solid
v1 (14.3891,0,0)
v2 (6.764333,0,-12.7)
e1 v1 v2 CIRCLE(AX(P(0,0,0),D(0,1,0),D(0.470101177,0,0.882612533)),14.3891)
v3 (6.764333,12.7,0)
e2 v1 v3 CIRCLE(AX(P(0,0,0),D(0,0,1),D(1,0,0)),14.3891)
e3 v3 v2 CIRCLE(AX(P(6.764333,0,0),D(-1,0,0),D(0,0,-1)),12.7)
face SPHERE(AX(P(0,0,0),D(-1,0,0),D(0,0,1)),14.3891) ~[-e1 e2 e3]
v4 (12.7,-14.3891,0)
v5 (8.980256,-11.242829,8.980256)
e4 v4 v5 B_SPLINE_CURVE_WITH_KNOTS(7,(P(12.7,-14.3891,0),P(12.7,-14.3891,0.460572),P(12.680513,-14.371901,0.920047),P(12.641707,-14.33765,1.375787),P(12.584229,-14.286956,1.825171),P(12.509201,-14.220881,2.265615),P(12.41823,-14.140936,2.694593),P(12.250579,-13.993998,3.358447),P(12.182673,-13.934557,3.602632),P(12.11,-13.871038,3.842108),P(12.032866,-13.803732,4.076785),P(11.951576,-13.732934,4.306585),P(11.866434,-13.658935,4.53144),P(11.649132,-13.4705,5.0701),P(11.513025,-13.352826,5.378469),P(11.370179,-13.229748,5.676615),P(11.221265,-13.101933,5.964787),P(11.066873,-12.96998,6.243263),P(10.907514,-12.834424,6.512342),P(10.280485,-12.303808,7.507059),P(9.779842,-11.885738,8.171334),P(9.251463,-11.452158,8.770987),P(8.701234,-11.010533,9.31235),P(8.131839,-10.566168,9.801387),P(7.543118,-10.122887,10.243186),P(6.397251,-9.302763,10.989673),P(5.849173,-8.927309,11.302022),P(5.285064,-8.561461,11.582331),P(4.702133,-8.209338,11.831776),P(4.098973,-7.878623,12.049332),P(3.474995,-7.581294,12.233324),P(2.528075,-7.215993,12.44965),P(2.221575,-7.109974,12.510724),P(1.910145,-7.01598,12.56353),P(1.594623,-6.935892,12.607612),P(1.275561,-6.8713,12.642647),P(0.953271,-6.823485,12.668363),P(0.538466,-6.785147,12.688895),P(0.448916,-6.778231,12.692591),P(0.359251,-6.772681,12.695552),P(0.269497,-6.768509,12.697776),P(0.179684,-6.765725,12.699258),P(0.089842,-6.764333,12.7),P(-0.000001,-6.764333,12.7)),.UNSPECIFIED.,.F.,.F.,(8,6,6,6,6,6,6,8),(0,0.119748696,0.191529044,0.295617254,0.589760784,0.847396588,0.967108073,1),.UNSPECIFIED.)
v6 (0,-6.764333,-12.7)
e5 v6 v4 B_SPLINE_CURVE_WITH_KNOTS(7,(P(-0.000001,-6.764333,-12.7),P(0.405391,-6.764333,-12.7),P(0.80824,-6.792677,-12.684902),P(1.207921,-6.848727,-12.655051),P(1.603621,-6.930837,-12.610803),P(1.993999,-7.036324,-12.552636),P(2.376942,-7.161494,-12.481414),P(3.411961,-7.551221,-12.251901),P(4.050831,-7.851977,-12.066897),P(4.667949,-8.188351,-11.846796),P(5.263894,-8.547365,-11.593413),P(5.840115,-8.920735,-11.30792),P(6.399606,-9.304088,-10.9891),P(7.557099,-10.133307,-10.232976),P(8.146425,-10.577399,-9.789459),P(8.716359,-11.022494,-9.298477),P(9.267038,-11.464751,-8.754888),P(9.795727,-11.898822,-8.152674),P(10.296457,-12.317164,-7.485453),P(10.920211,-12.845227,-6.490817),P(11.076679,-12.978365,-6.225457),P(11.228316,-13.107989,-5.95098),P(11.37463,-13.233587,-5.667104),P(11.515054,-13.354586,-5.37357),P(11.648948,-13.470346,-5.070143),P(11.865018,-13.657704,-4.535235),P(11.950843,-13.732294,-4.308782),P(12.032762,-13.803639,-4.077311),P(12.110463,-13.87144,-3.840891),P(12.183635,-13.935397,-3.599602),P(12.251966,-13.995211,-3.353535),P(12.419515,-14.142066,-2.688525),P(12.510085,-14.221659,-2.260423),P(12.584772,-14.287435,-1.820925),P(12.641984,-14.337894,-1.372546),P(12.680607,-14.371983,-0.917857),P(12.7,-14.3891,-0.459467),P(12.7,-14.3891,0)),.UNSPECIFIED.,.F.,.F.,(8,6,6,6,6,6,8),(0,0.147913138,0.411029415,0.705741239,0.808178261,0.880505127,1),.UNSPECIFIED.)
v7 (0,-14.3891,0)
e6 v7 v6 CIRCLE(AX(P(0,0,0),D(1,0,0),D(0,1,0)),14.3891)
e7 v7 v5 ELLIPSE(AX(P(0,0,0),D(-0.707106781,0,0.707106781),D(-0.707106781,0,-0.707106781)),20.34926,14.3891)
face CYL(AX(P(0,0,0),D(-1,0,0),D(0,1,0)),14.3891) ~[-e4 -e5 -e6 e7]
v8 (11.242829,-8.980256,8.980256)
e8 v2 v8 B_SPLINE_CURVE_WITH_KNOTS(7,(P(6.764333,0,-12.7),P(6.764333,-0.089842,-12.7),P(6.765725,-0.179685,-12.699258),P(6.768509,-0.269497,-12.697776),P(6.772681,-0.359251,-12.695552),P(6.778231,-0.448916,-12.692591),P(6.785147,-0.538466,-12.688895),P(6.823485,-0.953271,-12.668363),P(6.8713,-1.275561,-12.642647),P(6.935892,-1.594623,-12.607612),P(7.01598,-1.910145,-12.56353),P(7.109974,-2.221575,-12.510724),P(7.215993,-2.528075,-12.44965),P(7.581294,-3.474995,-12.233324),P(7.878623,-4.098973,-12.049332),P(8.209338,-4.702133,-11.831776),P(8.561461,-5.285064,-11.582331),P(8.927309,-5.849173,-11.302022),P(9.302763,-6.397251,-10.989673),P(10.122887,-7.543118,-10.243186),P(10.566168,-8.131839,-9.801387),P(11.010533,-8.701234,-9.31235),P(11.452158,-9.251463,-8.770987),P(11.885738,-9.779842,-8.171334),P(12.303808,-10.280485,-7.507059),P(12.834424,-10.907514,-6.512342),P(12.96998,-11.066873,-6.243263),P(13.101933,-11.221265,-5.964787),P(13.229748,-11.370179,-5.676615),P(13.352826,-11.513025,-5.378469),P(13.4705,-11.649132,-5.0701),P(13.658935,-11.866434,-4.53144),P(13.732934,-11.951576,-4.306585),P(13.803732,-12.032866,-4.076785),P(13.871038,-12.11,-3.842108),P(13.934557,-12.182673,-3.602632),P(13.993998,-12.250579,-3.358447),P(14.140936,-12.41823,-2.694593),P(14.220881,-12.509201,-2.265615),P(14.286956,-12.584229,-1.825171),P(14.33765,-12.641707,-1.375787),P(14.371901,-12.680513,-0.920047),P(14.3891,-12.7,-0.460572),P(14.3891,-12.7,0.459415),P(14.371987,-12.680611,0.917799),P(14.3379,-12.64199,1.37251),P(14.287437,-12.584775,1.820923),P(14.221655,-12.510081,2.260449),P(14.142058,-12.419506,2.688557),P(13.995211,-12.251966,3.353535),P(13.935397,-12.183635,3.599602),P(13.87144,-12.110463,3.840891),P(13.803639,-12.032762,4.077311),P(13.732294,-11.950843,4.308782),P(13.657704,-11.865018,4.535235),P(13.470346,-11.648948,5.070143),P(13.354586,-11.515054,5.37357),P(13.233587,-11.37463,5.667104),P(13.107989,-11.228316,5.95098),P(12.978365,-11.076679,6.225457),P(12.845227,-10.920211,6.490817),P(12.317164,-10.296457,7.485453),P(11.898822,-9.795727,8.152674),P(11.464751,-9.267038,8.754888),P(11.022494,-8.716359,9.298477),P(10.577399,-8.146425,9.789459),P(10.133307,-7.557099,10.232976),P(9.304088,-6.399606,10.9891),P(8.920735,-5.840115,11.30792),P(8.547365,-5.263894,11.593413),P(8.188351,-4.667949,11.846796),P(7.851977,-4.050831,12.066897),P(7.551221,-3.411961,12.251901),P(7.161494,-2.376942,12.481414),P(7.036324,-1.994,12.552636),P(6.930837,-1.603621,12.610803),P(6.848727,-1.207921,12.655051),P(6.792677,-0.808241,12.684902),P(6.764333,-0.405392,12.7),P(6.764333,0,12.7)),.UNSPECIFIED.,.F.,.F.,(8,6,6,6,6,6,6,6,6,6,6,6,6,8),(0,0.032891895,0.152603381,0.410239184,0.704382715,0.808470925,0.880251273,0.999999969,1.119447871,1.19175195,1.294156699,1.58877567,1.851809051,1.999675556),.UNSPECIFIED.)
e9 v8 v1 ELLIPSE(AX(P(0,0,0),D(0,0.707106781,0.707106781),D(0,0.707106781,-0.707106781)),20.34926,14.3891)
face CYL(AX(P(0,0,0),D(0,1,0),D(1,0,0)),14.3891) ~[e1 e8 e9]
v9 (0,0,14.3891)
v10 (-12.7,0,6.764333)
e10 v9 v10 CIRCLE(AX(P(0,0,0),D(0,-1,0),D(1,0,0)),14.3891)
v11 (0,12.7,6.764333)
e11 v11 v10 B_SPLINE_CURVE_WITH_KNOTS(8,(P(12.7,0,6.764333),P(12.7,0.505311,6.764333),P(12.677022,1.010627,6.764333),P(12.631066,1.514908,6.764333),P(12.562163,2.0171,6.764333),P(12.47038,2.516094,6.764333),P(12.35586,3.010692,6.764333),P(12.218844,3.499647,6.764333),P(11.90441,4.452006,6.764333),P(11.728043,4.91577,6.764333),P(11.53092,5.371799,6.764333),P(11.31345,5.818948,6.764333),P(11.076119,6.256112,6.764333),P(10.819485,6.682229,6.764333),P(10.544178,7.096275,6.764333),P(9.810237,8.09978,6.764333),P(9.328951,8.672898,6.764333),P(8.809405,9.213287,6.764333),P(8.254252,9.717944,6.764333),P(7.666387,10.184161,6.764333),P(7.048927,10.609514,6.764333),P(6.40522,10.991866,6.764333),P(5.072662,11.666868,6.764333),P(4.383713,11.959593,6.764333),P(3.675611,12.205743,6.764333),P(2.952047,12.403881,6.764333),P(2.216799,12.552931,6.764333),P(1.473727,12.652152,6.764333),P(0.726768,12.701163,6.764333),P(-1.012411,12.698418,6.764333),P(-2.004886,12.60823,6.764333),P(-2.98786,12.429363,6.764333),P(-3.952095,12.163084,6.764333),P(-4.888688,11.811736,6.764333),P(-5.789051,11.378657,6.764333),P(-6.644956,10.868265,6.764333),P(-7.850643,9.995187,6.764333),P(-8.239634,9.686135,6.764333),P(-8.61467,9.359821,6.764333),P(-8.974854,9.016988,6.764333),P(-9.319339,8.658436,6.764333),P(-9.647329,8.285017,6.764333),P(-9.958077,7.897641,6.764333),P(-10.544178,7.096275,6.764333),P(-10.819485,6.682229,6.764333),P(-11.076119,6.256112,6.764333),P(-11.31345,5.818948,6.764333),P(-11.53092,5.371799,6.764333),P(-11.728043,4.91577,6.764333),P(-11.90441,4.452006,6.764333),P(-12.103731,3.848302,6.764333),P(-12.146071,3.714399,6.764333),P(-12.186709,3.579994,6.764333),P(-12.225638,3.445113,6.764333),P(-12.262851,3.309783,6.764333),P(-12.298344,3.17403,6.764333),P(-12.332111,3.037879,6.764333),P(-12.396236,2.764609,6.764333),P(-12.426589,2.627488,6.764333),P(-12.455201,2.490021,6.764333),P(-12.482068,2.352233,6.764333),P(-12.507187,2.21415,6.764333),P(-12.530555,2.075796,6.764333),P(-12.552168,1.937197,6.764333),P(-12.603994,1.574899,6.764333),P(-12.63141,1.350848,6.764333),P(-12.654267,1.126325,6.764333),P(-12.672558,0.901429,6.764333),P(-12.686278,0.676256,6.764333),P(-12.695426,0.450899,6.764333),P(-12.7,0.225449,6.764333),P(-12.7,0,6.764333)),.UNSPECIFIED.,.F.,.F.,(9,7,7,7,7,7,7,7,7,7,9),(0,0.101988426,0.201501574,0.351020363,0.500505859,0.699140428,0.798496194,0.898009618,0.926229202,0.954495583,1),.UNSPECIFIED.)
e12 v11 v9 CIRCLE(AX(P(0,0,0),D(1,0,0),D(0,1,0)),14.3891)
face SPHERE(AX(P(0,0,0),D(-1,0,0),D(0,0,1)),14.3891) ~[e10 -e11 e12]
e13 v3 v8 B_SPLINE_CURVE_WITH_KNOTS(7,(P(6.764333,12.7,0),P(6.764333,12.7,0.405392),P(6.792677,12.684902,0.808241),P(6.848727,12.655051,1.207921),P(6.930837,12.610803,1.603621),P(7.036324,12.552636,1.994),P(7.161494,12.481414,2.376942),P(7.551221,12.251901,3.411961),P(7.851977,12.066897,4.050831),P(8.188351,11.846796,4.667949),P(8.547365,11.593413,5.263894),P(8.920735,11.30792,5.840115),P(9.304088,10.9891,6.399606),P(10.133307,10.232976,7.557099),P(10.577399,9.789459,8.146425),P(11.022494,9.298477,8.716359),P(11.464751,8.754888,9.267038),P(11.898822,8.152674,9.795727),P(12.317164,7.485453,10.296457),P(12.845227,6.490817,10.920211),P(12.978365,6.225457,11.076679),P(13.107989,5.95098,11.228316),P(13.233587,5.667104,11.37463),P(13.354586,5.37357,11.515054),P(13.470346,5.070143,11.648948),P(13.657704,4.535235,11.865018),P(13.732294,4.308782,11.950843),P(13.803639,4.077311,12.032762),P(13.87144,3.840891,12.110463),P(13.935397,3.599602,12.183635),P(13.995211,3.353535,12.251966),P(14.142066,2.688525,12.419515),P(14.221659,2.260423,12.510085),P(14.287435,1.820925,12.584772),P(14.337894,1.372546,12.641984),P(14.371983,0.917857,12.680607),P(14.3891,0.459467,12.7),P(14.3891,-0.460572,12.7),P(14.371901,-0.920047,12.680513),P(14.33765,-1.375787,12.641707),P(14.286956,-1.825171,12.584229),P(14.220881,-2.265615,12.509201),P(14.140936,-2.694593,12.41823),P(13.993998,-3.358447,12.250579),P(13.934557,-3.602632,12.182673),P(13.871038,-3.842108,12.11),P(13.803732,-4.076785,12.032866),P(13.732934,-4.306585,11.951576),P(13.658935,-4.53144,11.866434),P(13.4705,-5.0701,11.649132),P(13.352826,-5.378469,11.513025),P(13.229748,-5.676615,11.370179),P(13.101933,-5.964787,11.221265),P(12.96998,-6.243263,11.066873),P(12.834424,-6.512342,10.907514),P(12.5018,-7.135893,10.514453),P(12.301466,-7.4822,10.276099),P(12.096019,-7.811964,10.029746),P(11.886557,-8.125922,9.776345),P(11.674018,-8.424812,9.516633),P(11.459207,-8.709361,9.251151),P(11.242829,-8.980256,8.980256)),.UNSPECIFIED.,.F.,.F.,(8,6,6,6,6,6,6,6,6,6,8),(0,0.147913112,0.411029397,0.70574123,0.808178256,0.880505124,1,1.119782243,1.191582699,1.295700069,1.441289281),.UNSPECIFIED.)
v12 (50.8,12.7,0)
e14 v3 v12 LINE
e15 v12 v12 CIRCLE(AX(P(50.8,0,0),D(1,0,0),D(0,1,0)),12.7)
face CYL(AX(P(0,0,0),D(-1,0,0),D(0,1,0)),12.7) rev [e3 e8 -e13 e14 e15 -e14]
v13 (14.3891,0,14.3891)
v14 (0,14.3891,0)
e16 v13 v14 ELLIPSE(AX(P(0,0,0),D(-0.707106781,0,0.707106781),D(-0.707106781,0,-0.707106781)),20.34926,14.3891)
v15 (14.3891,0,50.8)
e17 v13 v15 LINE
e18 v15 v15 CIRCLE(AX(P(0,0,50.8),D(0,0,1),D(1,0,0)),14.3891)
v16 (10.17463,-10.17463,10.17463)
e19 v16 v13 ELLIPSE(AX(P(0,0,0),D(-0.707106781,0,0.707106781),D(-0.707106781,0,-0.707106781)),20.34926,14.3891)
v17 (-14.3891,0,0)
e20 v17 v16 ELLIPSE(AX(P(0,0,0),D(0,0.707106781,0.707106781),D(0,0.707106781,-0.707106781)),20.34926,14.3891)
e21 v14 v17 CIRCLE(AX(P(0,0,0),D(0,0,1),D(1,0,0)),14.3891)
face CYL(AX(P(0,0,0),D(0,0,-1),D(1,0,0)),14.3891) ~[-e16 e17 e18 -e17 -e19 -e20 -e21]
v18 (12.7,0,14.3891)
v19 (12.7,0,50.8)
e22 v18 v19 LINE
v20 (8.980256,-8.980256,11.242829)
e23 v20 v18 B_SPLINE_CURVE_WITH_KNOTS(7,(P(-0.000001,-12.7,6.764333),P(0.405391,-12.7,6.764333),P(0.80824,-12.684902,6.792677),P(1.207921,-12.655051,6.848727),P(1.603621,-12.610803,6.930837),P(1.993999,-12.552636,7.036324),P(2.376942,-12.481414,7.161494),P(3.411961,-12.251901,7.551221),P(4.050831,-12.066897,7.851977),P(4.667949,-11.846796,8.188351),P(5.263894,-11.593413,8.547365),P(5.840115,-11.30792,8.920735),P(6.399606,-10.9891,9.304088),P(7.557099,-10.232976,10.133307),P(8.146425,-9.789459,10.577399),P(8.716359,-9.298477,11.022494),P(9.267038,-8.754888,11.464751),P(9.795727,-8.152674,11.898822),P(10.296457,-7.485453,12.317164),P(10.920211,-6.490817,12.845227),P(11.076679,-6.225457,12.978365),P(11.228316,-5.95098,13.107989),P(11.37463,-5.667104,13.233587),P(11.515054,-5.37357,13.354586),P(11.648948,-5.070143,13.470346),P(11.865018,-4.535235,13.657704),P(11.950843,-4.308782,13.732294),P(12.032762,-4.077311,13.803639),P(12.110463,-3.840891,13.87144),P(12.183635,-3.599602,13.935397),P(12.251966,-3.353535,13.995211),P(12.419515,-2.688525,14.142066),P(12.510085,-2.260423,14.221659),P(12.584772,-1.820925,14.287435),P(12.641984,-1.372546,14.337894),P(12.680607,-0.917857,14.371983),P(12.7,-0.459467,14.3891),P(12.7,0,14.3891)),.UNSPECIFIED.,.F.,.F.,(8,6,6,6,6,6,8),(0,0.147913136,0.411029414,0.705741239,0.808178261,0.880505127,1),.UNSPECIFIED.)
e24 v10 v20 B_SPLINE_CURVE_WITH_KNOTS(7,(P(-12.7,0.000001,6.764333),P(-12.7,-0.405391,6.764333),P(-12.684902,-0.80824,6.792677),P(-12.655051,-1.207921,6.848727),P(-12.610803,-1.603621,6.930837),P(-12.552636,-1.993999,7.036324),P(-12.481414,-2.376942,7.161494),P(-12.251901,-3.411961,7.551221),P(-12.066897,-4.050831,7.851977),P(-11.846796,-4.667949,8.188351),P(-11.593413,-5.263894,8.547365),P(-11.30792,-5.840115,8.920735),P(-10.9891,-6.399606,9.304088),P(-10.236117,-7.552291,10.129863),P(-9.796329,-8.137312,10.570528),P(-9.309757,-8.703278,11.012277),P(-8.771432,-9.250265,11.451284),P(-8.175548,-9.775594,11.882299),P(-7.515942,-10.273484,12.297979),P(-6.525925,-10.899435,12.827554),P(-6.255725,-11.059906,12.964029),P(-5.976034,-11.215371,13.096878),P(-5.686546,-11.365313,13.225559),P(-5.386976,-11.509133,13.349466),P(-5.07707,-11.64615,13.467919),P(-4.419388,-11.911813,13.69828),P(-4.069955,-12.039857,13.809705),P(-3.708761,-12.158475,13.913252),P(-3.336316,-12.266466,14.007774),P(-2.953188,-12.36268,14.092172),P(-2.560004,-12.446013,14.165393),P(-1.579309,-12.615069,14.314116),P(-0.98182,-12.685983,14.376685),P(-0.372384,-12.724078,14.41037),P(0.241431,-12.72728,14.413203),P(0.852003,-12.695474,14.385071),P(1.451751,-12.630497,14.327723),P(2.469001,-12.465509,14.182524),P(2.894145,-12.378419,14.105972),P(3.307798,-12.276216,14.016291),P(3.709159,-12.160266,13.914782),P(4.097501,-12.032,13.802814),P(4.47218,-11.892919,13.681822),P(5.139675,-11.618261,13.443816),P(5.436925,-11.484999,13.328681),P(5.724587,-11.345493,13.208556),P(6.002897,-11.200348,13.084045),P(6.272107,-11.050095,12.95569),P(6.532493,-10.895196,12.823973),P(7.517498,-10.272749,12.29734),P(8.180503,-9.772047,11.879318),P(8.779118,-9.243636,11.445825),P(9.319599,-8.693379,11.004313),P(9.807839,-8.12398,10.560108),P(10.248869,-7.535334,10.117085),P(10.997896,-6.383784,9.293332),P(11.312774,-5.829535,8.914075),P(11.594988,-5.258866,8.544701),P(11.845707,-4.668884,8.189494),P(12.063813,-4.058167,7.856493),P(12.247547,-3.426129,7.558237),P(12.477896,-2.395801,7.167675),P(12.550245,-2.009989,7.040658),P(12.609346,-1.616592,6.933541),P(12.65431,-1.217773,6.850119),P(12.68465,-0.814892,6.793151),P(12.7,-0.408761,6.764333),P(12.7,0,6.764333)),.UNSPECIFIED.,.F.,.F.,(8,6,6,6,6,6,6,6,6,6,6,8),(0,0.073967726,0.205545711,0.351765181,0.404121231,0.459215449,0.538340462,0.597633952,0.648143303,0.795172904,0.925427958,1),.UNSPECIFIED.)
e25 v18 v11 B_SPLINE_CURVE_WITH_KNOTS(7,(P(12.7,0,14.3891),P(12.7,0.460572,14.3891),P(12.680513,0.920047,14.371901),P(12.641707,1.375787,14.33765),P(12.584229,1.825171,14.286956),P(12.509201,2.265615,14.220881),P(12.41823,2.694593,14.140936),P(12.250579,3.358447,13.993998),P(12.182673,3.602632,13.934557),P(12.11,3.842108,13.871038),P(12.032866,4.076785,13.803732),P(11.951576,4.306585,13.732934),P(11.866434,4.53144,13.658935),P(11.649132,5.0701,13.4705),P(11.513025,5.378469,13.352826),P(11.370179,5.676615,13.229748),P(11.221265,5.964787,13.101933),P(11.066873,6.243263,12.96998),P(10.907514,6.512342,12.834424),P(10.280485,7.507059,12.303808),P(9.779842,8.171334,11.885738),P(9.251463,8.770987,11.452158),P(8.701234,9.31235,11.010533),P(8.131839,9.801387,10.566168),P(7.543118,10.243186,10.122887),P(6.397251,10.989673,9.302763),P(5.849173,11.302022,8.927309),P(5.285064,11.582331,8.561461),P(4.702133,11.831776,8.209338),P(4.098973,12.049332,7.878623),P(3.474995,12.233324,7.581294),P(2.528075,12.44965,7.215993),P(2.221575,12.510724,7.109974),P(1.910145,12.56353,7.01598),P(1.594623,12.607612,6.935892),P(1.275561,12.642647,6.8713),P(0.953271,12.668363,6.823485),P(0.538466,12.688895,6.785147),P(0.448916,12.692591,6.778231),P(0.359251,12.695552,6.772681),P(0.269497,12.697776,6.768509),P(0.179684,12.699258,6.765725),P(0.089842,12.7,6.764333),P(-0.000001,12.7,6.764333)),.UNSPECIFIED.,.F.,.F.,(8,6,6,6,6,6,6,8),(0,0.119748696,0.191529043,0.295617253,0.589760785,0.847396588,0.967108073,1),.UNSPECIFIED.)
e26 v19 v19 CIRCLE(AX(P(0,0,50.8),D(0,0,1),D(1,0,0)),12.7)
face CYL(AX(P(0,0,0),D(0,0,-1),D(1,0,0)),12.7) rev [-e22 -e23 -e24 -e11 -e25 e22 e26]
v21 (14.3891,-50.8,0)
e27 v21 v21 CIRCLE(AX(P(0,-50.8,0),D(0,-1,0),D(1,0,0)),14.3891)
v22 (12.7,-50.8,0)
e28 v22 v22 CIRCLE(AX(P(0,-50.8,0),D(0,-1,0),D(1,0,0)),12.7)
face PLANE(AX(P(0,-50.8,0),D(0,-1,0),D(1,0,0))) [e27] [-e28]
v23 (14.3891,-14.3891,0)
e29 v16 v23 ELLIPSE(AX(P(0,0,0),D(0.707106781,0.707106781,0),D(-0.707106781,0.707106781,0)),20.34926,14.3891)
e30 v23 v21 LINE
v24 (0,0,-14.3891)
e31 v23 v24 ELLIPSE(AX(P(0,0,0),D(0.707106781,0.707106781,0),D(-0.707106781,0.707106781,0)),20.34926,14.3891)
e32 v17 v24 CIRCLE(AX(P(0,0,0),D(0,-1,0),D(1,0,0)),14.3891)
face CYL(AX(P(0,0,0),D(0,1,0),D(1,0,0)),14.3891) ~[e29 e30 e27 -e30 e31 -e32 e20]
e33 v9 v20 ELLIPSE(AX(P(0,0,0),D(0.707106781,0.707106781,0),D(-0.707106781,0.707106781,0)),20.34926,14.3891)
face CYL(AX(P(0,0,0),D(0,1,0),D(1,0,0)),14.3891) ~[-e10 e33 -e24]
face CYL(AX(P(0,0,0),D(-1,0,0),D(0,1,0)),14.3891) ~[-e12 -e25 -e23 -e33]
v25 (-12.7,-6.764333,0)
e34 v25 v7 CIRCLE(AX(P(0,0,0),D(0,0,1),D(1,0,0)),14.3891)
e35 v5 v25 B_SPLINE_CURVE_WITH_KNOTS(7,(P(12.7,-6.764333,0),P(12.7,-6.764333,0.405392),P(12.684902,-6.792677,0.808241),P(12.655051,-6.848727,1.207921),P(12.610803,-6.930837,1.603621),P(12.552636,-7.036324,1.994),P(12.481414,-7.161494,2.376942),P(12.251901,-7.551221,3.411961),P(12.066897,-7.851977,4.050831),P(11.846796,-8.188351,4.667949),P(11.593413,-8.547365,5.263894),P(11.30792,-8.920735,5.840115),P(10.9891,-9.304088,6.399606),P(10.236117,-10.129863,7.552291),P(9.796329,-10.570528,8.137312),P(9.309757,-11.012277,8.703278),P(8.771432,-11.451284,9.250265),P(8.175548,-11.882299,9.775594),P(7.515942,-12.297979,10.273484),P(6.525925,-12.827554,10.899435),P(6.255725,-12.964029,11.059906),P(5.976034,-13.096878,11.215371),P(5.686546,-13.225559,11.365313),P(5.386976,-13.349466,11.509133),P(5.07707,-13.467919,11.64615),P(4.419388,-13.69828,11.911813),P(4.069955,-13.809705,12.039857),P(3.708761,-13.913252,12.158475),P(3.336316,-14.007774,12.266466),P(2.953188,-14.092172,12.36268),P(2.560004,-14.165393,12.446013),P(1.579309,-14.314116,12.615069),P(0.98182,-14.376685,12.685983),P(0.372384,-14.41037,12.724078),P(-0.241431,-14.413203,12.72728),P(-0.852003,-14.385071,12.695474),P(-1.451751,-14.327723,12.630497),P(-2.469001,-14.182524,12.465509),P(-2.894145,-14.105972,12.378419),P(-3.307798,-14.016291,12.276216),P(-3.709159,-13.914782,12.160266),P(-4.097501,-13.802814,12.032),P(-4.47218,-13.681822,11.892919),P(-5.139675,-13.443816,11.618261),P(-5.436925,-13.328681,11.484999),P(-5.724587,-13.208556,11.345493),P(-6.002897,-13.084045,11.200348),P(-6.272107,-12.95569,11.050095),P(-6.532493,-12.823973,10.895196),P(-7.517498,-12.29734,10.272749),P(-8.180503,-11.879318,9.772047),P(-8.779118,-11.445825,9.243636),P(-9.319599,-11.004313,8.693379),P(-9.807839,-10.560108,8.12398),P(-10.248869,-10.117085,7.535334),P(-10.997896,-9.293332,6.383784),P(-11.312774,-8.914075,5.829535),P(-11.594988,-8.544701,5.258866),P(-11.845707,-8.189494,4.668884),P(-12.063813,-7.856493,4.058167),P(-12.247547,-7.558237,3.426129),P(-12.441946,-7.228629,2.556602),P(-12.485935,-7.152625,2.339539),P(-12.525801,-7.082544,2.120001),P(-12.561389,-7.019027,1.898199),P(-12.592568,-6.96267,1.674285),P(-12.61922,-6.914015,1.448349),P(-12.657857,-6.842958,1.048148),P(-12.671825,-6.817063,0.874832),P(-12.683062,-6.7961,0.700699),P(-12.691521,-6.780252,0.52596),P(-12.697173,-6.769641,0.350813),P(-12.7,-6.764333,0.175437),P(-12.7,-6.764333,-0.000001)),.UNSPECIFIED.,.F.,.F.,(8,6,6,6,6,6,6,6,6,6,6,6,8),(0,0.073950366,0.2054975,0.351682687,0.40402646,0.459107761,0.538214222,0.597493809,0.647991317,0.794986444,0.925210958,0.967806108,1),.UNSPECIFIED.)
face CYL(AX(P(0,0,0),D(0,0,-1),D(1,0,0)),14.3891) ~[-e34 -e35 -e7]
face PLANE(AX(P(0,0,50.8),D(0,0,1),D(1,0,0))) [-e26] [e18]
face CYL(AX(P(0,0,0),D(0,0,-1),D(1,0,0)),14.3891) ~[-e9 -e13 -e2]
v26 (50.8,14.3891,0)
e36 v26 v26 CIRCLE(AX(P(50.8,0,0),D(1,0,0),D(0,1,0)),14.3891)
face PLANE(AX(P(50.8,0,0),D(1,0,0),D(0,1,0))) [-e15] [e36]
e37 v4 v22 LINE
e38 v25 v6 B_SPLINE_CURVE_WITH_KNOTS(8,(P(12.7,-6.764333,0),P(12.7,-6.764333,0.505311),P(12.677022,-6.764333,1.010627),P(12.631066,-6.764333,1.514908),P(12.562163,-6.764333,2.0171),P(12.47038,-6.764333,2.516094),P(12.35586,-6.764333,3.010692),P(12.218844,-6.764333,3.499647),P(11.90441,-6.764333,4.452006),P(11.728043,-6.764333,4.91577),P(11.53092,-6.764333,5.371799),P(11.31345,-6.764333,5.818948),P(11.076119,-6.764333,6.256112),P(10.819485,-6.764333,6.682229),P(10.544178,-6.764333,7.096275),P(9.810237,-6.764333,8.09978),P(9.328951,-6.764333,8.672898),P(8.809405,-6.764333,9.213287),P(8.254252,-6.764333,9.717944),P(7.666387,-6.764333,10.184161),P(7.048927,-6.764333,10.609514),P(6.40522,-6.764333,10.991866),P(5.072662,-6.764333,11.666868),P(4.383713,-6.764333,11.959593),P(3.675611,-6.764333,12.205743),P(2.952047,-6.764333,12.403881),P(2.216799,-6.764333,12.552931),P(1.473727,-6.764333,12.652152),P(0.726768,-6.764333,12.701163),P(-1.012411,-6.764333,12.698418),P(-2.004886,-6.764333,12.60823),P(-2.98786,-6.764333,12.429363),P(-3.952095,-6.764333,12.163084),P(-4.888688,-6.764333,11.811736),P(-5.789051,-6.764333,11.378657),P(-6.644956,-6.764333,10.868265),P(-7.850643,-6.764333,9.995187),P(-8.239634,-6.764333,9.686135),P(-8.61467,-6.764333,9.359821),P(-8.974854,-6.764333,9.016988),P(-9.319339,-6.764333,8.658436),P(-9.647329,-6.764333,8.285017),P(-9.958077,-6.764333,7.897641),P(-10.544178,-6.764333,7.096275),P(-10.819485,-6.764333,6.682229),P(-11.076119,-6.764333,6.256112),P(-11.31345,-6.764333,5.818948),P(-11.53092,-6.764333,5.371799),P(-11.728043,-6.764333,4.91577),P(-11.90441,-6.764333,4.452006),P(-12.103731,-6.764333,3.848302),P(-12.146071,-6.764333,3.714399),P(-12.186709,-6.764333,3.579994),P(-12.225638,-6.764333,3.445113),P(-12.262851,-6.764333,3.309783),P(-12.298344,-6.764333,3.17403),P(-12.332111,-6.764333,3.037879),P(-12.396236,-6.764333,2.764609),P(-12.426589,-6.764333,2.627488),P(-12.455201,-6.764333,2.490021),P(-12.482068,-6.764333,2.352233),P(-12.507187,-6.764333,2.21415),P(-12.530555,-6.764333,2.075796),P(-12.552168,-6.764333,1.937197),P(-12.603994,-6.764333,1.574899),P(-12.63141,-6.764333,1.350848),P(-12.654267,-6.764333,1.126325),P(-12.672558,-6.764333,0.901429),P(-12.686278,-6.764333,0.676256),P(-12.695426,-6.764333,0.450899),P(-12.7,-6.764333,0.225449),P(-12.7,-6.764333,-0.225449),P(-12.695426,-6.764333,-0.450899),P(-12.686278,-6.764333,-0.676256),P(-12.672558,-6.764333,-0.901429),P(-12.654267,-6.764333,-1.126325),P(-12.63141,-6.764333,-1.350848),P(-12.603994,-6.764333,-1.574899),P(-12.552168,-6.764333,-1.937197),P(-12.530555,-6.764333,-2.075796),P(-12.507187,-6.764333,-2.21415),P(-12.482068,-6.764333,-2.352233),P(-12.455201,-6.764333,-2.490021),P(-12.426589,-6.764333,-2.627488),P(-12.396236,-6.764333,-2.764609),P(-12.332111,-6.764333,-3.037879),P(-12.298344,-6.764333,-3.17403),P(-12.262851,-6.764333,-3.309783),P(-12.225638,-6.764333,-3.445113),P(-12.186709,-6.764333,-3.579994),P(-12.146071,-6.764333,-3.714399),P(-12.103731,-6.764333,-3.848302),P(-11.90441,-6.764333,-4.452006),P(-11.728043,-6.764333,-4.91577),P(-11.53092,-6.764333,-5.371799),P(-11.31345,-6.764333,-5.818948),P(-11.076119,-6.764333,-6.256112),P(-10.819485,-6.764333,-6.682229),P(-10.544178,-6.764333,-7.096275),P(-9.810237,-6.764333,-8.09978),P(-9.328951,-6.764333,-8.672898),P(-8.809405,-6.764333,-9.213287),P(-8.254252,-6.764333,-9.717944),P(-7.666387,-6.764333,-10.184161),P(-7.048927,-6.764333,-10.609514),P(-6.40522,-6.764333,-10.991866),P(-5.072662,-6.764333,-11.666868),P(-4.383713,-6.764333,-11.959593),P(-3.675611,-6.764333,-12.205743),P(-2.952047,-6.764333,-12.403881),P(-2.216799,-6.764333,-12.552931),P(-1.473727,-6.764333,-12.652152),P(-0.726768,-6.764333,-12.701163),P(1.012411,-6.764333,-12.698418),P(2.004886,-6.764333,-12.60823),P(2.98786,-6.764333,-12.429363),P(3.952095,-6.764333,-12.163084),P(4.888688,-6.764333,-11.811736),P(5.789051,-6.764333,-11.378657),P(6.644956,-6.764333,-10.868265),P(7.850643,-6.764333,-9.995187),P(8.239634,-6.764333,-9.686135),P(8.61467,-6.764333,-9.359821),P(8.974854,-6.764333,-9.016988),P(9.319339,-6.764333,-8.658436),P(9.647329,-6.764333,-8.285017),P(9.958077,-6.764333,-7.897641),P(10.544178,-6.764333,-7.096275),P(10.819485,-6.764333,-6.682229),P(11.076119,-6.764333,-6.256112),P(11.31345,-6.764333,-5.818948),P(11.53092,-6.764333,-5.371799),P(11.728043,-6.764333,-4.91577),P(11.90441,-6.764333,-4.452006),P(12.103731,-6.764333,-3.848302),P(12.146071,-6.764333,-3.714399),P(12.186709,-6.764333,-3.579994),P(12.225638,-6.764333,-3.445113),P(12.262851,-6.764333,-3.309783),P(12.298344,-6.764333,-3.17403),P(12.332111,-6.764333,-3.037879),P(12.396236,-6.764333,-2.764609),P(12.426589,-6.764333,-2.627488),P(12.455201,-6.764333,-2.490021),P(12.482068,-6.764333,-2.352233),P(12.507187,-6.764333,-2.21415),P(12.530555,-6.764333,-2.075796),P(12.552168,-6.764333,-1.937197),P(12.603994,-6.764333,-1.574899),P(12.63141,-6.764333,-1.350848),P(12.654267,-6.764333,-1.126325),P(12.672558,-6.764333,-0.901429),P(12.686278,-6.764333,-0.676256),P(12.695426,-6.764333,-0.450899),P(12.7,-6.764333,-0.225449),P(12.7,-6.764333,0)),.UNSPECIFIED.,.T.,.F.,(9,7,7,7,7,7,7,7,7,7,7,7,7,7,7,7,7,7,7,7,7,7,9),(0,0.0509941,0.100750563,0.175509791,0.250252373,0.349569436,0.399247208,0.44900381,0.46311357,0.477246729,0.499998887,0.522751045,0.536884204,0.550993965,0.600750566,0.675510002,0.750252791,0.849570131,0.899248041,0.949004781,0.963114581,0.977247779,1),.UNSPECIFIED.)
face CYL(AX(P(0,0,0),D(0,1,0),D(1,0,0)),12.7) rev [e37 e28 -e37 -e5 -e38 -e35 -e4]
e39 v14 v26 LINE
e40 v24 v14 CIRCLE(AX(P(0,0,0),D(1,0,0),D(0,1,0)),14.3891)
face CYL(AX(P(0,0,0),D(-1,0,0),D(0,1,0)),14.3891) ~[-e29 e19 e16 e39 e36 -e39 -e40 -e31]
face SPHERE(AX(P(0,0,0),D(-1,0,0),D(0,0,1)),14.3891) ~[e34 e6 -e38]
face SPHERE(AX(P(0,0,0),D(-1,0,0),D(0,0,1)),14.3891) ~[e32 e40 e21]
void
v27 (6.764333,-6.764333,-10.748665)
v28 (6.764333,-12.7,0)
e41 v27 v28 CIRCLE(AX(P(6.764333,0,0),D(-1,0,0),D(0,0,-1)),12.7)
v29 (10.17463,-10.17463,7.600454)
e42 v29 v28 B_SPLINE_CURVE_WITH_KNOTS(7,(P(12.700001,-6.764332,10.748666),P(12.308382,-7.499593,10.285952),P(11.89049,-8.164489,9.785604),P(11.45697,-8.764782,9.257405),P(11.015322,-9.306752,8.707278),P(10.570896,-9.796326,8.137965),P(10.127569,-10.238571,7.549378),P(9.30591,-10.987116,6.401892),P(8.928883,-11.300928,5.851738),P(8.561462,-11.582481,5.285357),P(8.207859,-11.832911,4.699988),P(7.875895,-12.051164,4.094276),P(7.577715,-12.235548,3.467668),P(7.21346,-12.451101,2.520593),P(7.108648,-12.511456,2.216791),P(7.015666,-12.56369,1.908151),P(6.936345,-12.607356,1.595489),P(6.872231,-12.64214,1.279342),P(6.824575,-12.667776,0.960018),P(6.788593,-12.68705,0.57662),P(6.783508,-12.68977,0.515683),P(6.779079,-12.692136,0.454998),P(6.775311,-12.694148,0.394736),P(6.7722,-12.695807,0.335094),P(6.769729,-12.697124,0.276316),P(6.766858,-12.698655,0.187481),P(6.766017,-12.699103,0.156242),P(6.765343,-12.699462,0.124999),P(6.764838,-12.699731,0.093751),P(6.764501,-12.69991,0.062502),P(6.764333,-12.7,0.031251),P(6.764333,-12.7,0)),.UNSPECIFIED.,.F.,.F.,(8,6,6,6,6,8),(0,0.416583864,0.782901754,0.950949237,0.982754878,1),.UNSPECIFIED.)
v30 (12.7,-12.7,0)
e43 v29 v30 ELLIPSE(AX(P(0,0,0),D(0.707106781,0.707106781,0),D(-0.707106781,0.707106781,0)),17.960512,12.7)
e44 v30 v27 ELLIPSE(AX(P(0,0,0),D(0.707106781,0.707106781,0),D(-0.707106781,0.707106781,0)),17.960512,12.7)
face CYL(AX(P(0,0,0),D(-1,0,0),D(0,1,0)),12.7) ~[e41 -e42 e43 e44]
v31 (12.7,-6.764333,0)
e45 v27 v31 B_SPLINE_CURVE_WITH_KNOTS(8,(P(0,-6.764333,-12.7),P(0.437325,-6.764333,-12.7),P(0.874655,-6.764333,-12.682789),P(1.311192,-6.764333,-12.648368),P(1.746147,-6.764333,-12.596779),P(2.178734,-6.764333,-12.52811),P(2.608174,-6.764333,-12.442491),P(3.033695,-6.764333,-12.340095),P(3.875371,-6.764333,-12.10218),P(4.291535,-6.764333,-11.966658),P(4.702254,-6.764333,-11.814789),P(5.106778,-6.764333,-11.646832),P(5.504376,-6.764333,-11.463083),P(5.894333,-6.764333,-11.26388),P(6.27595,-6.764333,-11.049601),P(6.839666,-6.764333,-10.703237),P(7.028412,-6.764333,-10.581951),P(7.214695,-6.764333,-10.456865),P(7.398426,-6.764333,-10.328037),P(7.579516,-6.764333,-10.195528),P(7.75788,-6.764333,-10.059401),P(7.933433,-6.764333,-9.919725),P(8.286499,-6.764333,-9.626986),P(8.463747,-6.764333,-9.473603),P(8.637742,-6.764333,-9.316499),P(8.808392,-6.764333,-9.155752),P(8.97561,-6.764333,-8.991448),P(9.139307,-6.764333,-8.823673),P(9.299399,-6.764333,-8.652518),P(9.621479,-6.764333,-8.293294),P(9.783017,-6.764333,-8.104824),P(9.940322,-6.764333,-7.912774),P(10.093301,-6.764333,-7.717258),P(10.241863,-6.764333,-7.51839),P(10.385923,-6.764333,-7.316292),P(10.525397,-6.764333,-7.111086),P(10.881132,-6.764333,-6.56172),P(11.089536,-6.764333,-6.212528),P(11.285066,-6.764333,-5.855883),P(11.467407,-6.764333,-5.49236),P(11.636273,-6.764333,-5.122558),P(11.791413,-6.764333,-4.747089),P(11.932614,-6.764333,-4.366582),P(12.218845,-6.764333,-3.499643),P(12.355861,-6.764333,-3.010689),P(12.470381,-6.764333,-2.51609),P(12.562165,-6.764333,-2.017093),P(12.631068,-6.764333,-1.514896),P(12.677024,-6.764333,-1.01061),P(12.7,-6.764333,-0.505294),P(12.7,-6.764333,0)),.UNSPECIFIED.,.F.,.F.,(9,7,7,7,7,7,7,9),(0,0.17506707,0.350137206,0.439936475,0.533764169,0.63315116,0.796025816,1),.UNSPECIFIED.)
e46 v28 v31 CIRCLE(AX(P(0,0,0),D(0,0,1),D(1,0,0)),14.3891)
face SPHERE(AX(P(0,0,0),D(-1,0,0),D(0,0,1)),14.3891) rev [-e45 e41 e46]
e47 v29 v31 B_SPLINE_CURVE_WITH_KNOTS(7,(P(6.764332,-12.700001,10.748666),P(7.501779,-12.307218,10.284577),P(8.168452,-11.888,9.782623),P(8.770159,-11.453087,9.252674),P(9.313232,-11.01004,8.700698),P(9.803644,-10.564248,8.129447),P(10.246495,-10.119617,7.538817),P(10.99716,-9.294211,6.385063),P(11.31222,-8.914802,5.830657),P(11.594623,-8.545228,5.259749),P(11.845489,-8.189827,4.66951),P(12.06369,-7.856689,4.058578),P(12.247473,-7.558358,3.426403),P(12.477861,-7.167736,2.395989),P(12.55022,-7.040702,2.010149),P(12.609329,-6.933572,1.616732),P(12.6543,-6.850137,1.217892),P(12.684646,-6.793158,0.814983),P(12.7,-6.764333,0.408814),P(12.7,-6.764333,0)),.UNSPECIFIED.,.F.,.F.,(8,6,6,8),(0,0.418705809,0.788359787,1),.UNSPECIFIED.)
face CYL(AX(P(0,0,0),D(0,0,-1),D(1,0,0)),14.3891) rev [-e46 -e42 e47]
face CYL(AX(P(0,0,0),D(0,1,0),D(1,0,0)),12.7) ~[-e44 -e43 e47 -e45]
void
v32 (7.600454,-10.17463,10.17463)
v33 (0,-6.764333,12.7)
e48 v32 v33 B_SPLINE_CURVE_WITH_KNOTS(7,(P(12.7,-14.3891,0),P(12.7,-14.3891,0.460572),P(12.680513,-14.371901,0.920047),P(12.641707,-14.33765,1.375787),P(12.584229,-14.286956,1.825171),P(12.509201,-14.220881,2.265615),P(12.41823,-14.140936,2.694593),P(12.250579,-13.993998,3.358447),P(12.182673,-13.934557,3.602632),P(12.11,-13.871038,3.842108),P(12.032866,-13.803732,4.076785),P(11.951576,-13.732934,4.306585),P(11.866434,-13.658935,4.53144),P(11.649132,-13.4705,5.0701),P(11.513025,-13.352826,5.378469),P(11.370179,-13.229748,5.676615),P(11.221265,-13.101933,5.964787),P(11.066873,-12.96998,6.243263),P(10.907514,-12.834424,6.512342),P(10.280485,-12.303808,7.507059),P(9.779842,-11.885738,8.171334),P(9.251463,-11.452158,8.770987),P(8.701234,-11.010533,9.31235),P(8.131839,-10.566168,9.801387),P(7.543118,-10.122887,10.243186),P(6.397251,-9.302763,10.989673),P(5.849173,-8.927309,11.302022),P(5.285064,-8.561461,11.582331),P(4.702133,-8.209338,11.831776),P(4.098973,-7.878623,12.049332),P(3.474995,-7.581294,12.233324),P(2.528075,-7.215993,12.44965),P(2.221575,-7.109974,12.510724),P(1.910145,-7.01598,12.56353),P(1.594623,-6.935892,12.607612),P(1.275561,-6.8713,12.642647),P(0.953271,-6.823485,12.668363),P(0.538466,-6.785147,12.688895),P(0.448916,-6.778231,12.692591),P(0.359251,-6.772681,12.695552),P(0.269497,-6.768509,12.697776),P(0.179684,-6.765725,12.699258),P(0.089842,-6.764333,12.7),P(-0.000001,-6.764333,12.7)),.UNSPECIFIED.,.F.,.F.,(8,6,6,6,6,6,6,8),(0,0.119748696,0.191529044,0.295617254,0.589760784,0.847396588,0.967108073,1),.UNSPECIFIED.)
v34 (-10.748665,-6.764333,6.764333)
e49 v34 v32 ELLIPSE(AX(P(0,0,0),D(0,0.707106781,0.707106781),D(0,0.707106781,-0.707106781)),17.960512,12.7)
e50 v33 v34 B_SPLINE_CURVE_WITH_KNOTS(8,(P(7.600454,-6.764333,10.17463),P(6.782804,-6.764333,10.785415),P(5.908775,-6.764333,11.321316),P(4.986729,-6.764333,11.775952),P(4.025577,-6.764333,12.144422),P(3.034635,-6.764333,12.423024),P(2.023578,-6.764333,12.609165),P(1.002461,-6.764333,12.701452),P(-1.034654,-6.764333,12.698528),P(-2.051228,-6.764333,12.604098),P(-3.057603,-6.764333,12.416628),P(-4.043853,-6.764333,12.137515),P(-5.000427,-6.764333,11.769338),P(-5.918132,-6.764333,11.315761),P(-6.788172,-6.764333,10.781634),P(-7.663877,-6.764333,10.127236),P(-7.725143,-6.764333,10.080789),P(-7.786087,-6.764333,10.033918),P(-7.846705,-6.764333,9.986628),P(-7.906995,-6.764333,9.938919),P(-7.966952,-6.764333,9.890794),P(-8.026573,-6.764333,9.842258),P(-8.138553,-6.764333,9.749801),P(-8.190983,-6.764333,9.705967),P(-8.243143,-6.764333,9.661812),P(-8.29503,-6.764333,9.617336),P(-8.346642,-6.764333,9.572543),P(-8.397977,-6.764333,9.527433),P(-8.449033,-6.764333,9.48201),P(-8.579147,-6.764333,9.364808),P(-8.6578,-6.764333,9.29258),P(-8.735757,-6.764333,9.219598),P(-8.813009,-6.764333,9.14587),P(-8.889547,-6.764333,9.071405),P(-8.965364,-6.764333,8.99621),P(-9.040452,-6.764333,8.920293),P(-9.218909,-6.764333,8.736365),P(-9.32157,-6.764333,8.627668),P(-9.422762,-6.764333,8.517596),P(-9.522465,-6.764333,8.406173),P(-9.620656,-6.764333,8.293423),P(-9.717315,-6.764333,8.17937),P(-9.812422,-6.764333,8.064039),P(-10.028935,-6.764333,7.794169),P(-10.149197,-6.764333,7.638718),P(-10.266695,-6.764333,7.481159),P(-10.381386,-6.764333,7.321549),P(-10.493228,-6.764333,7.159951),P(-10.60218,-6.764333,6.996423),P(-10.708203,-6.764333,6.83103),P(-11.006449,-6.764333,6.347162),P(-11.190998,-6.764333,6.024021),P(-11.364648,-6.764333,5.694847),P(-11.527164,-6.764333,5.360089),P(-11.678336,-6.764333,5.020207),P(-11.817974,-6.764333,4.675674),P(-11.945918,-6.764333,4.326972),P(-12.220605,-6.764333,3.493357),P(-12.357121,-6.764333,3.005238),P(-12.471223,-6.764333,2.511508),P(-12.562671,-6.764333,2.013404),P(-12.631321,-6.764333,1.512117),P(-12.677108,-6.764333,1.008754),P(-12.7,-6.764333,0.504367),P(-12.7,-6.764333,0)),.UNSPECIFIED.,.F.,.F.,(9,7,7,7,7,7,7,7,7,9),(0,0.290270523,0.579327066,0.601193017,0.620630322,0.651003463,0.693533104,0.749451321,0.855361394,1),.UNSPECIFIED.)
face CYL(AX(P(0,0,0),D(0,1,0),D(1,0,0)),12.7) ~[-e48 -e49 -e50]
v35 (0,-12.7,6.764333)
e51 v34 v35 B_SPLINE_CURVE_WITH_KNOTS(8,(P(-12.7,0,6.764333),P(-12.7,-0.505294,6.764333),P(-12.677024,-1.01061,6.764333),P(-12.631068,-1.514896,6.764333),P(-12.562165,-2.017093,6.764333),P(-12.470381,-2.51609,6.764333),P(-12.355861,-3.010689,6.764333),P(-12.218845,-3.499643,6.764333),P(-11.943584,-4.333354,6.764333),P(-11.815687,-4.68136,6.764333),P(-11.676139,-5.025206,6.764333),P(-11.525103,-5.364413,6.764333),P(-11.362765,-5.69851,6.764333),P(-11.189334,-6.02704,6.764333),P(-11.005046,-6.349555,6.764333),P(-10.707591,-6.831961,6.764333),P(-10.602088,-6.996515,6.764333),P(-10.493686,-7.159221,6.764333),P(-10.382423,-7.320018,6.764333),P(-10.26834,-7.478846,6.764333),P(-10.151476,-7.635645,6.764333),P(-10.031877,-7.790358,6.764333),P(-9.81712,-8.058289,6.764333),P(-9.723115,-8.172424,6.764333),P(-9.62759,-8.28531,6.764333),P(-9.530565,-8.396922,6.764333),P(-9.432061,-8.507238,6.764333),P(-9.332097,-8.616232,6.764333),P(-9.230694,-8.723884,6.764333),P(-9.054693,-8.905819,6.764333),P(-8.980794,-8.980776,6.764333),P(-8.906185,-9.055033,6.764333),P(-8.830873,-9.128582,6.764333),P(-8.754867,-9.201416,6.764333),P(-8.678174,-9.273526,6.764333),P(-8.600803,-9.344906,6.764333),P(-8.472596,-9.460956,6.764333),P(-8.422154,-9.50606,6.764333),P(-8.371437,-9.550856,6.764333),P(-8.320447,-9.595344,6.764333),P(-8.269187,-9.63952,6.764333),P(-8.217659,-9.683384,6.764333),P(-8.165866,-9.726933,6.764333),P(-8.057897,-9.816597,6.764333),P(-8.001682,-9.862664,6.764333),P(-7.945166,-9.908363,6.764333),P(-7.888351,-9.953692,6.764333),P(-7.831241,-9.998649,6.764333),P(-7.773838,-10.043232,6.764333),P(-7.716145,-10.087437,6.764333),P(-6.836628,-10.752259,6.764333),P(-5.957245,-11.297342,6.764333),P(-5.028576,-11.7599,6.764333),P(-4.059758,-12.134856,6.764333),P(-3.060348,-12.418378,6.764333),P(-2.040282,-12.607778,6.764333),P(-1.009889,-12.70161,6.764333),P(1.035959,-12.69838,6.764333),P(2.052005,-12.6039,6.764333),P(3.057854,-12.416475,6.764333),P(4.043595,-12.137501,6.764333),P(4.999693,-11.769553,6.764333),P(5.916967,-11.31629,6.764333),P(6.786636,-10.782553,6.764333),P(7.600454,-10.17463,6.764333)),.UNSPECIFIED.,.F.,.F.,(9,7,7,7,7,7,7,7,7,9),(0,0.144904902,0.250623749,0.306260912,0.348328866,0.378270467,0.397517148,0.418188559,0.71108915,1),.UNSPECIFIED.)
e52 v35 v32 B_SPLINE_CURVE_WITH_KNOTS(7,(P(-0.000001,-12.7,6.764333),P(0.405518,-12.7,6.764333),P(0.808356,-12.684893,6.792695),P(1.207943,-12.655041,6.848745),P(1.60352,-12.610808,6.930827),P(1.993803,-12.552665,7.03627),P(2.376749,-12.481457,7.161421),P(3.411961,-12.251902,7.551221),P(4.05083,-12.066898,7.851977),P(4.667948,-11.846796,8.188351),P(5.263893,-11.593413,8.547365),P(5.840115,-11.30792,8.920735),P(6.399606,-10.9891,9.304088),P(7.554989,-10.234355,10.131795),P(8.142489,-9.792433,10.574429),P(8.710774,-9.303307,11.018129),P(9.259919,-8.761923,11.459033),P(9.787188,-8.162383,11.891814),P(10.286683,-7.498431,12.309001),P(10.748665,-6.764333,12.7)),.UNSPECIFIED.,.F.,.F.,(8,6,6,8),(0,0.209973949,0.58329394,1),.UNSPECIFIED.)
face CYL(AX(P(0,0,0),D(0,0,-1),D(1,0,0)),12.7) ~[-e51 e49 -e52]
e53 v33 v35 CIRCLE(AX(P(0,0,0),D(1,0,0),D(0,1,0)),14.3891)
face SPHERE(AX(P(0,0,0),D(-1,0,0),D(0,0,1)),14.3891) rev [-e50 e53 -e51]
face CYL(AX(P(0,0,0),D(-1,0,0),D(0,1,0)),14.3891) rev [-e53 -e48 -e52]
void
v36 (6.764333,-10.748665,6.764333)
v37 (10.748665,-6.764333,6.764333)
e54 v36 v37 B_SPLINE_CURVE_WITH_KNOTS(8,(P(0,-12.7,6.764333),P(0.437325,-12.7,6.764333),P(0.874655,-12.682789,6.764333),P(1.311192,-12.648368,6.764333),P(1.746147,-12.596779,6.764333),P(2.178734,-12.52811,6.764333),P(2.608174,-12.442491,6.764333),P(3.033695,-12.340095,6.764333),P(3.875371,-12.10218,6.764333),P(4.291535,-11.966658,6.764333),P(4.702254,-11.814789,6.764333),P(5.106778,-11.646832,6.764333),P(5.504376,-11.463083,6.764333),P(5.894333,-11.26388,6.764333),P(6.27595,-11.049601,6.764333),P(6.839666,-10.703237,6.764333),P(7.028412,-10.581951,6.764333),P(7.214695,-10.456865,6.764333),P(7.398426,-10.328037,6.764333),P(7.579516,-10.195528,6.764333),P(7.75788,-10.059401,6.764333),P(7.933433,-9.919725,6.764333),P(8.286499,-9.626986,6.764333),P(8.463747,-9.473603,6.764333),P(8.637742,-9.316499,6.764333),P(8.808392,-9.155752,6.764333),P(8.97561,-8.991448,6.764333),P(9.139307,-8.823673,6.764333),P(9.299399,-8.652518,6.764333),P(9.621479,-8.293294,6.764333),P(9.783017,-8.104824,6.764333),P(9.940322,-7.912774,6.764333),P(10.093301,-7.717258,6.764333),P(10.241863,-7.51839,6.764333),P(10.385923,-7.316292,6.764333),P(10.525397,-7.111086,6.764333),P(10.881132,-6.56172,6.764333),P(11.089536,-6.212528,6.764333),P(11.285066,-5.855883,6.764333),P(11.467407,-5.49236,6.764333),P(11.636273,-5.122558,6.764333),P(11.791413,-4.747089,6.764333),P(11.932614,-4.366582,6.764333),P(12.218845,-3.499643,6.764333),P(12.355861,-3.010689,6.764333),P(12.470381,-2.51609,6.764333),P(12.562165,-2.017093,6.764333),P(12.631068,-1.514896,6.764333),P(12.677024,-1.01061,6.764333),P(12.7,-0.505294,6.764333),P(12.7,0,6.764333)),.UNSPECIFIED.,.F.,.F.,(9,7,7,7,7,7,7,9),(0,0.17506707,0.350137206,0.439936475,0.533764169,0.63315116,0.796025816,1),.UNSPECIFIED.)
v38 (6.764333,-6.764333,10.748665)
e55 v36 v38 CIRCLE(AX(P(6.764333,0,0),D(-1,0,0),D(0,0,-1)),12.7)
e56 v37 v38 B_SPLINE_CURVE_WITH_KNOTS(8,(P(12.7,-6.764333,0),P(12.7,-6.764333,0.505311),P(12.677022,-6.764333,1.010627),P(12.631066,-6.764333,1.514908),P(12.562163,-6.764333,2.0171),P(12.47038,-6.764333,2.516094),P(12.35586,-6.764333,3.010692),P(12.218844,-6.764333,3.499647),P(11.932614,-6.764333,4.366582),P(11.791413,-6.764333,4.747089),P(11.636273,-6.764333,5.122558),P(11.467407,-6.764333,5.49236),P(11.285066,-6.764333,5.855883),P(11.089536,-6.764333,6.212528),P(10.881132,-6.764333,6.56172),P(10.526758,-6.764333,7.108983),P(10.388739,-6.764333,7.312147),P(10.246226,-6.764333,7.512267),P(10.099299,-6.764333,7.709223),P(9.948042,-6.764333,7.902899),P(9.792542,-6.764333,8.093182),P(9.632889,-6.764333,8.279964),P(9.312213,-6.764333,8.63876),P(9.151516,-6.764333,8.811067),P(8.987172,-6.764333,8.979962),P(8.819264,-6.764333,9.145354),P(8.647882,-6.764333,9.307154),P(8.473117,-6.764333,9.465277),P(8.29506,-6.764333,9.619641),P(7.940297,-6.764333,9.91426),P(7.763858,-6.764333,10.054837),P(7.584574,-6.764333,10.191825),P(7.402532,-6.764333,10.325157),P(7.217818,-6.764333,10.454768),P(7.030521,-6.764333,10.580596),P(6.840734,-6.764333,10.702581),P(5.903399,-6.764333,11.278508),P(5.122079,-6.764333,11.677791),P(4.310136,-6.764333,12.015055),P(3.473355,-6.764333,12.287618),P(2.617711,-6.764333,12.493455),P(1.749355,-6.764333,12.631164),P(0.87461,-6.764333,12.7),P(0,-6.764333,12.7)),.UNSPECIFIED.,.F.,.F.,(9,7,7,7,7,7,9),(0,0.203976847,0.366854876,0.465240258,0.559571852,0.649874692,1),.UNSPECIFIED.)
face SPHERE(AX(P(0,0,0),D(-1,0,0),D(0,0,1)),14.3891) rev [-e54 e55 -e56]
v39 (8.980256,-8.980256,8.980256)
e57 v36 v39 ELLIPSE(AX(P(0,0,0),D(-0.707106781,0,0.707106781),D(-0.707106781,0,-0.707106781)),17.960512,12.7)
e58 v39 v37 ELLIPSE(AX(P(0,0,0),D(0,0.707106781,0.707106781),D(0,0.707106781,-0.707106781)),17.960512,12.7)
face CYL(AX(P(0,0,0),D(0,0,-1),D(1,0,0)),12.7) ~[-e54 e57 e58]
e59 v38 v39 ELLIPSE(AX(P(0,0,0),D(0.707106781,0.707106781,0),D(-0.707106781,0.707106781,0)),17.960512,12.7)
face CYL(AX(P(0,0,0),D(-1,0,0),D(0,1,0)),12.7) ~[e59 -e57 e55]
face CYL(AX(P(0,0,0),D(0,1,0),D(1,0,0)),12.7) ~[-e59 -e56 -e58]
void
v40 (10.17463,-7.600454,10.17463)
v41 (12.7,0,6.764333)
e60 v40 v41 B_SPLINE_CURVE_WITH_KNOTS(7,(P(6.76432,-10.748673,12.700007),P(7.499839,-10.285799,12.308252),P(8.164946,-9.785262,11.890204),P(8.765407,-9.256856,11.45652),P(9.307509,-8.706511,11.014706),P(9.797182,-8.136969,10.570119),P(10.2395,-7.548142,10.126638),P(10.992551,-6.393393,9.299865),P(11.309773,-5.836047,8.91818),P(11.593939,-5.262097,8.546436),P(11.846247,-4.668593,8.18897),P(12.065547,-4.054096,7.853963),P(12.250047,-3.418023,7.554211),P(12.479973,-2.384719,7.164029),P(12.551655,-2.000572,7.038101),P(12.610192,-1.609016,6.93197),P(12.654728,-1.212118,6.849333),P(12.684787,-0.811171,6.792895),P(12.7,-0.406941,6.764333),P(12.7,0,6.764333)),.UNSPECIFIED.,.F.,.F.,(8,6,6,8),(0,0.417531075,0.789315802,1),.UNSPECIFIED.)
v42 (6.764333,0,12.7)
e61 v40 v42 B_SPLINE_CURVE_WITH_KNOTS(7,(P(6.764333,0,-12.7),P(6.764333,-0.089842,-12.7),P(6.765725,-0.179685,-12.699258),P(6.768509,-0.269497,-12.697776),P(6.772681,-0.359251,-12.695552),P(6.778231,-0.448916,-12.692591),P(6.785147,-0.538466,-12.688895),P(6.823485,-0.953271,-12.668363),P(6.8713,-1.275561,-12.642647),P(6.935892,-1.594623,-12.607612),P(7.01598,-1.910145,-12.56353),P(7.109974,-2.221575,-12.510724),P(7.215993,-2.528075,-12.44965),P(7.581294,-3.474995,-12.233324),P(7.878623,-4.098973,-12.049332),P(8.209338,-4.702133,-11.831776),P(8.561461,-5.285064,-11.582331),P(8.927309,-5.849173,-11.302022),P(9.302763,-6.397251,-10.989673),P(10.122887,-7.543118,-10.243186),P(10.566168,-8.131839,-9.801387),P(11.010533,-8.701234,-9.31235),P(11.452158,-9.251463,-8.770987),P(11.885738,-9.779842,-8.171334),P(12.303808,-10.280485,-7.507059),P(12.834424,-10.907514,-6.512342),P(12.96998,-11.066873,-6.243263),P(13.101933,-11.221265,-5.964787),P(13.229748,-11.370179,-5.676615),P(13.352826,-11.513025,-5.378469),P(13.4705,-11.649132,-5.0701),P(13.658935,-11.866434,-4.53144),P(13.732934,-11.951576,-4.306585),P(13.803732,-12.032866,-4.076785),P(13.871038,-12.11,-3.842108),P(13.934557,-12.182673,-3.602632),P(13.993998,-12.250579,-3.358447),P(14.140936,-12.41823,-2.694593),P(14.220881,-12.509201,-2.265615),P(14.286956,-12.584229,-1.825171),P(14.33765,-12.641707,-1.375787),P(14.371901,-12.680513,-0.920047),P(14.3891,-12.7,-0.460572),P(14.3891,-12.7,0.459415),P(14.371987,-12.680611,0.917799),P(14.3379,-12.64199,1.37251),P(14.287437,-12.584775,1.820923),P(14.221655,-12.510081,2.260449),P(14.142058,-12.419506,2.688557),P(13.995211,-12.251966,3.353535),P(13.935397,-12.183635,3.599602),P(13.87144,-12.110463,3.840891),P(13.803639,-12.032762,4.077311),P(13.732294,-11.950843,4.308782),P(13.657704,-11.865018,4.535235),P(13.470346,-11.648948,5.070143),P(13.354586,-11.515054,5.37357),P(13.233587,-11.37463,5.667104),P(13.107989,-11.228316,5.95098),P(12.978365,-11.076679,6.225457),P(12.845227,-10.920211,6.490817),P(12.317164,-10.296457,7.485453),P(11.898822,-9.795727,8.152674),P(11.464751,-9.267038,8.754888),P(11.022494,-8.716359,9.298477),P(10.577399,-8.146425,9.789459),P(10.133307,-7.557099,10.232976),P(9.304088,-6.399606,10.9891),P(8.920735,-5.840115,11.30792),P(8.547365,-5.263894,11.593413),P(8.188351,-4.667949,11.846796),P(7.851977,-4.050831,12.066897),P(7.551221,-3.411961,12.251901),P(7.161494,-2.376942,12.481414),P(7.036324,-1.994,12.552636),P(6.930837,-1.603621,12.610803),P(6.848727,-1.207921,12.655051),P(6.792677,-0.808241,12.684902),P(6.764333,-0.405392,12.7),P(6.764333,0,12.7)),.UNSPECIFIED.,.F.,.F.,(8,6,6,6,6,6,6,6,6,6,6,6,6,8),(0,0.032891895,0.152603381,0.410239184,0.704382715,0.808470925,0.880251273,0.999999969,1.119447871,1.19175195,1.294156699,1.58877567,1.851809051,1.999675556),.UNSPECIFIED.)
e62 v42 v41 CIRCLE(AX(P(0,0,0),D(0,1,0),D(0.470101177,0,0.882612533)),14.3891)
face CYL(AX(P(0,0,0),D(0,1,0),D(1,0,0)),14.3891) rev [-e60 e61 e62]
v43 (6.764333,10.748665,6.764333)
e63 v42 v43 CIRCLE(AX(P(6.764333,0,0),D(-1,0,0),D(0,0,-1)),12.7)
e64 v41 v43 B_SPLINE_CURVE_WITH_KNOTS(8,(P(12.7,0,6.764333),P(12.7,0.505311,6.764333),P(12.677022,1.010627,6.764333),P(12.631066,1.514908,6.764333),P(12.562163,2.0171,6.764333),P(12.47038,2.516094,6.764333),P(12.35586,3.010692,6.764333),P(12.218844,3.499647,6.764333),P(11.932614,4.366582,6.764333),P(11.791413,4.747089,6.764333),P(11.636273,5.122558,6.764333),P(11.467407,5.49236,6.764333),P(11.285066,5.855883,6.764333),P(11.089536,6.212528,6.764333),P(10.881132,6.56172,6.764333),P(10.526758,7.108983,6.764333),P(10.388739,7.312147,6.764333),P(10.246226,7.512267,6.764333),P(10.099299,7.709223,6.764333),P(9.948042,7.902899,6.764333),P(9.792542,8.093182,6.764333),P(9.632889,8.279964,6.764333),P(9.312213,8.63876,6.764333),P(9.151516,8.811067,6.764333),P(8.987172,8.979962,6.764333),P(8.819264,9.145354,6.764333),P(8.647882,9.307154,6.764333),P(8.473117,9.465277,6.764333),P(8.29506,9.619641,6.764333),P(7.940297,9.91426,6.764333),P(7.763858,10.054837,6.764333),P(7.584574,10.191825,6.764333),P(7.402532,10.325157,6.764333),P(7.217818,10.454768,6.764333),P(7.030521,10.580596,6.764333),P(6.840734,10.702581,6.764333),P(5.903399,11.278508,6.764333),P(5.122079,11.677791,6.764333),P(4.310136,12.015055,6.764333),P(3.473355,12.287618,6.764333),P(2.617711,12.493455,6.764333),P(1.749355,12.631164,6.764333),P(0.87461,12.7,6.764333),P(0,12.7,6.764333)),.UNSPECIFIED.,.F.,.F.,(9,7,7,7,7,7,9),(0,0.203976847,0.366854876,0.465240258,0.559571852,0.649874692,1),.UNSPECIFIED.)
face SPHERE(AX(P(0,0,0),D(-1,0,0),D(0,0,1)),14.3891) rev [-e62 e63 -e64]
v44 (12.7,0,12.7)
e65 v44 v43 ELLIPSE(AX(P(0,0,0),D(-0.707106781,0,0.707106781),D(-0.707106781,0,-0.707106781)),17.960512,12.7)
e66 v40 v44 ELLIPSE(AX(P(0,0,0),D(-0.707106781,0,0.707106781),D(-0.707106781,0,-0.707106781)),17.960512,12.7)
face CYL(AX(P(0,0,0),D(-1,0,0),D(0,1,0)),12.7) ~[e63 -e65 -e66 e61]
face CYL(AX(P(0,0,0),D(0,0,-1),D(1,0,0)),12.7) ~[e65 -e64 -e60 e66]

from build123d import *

# Parameters (mm, degrees)
F0_R     = 14.3891
F0_R_2   = 12.7
F1_DEPTH = 50.8
F2_R     = 14.3891
F2_R_2   = 12.7
F3_DEPTH = 50.8
F4_R     = 14.3891
F4_R_2   = 12.7
F5_DEPTH = 50.8


with BuildPart() as f1:
    # F0 (on Front) → F1 (new body)
    with BuildSketch(Plane.XZ):
        Circle(F0_R)
        Circle(F0_R_2, mode=Mode.SUBTRACT)
    extrude(amount=F1_DEPTH)

    # F2 (on Right) → F3 (join)
    with BuildSketch(Plane.YZ):
        Circle(F2_R)
        Circle(F2_R_2, mode=Mode.SUBTRACT)
    extrude(amount=F3_DEPTH)

    # F4 (on Top) → F5 (join)
    with BuildSketch(Plane.XY):
        Circle(F4_R)
        Circle(F4_R_2, mode=Mode.SUBTRACT)
    extrude(amount=F5_DEPTH)

    # F6 (on Front) → F7 (revolve)
    with BuildSketch(Plane.XZ):
        with BuildLine():
            ThreePointArc((14.3891, 0), (0, 14.3891), (-14.3891, 0))
            Line((-14.3891, 0), (14.3891, 0))
        make_face()
    revolve(axis=Axis((0, 0, 0), (1, 0, 0)))


solid = f1.part
